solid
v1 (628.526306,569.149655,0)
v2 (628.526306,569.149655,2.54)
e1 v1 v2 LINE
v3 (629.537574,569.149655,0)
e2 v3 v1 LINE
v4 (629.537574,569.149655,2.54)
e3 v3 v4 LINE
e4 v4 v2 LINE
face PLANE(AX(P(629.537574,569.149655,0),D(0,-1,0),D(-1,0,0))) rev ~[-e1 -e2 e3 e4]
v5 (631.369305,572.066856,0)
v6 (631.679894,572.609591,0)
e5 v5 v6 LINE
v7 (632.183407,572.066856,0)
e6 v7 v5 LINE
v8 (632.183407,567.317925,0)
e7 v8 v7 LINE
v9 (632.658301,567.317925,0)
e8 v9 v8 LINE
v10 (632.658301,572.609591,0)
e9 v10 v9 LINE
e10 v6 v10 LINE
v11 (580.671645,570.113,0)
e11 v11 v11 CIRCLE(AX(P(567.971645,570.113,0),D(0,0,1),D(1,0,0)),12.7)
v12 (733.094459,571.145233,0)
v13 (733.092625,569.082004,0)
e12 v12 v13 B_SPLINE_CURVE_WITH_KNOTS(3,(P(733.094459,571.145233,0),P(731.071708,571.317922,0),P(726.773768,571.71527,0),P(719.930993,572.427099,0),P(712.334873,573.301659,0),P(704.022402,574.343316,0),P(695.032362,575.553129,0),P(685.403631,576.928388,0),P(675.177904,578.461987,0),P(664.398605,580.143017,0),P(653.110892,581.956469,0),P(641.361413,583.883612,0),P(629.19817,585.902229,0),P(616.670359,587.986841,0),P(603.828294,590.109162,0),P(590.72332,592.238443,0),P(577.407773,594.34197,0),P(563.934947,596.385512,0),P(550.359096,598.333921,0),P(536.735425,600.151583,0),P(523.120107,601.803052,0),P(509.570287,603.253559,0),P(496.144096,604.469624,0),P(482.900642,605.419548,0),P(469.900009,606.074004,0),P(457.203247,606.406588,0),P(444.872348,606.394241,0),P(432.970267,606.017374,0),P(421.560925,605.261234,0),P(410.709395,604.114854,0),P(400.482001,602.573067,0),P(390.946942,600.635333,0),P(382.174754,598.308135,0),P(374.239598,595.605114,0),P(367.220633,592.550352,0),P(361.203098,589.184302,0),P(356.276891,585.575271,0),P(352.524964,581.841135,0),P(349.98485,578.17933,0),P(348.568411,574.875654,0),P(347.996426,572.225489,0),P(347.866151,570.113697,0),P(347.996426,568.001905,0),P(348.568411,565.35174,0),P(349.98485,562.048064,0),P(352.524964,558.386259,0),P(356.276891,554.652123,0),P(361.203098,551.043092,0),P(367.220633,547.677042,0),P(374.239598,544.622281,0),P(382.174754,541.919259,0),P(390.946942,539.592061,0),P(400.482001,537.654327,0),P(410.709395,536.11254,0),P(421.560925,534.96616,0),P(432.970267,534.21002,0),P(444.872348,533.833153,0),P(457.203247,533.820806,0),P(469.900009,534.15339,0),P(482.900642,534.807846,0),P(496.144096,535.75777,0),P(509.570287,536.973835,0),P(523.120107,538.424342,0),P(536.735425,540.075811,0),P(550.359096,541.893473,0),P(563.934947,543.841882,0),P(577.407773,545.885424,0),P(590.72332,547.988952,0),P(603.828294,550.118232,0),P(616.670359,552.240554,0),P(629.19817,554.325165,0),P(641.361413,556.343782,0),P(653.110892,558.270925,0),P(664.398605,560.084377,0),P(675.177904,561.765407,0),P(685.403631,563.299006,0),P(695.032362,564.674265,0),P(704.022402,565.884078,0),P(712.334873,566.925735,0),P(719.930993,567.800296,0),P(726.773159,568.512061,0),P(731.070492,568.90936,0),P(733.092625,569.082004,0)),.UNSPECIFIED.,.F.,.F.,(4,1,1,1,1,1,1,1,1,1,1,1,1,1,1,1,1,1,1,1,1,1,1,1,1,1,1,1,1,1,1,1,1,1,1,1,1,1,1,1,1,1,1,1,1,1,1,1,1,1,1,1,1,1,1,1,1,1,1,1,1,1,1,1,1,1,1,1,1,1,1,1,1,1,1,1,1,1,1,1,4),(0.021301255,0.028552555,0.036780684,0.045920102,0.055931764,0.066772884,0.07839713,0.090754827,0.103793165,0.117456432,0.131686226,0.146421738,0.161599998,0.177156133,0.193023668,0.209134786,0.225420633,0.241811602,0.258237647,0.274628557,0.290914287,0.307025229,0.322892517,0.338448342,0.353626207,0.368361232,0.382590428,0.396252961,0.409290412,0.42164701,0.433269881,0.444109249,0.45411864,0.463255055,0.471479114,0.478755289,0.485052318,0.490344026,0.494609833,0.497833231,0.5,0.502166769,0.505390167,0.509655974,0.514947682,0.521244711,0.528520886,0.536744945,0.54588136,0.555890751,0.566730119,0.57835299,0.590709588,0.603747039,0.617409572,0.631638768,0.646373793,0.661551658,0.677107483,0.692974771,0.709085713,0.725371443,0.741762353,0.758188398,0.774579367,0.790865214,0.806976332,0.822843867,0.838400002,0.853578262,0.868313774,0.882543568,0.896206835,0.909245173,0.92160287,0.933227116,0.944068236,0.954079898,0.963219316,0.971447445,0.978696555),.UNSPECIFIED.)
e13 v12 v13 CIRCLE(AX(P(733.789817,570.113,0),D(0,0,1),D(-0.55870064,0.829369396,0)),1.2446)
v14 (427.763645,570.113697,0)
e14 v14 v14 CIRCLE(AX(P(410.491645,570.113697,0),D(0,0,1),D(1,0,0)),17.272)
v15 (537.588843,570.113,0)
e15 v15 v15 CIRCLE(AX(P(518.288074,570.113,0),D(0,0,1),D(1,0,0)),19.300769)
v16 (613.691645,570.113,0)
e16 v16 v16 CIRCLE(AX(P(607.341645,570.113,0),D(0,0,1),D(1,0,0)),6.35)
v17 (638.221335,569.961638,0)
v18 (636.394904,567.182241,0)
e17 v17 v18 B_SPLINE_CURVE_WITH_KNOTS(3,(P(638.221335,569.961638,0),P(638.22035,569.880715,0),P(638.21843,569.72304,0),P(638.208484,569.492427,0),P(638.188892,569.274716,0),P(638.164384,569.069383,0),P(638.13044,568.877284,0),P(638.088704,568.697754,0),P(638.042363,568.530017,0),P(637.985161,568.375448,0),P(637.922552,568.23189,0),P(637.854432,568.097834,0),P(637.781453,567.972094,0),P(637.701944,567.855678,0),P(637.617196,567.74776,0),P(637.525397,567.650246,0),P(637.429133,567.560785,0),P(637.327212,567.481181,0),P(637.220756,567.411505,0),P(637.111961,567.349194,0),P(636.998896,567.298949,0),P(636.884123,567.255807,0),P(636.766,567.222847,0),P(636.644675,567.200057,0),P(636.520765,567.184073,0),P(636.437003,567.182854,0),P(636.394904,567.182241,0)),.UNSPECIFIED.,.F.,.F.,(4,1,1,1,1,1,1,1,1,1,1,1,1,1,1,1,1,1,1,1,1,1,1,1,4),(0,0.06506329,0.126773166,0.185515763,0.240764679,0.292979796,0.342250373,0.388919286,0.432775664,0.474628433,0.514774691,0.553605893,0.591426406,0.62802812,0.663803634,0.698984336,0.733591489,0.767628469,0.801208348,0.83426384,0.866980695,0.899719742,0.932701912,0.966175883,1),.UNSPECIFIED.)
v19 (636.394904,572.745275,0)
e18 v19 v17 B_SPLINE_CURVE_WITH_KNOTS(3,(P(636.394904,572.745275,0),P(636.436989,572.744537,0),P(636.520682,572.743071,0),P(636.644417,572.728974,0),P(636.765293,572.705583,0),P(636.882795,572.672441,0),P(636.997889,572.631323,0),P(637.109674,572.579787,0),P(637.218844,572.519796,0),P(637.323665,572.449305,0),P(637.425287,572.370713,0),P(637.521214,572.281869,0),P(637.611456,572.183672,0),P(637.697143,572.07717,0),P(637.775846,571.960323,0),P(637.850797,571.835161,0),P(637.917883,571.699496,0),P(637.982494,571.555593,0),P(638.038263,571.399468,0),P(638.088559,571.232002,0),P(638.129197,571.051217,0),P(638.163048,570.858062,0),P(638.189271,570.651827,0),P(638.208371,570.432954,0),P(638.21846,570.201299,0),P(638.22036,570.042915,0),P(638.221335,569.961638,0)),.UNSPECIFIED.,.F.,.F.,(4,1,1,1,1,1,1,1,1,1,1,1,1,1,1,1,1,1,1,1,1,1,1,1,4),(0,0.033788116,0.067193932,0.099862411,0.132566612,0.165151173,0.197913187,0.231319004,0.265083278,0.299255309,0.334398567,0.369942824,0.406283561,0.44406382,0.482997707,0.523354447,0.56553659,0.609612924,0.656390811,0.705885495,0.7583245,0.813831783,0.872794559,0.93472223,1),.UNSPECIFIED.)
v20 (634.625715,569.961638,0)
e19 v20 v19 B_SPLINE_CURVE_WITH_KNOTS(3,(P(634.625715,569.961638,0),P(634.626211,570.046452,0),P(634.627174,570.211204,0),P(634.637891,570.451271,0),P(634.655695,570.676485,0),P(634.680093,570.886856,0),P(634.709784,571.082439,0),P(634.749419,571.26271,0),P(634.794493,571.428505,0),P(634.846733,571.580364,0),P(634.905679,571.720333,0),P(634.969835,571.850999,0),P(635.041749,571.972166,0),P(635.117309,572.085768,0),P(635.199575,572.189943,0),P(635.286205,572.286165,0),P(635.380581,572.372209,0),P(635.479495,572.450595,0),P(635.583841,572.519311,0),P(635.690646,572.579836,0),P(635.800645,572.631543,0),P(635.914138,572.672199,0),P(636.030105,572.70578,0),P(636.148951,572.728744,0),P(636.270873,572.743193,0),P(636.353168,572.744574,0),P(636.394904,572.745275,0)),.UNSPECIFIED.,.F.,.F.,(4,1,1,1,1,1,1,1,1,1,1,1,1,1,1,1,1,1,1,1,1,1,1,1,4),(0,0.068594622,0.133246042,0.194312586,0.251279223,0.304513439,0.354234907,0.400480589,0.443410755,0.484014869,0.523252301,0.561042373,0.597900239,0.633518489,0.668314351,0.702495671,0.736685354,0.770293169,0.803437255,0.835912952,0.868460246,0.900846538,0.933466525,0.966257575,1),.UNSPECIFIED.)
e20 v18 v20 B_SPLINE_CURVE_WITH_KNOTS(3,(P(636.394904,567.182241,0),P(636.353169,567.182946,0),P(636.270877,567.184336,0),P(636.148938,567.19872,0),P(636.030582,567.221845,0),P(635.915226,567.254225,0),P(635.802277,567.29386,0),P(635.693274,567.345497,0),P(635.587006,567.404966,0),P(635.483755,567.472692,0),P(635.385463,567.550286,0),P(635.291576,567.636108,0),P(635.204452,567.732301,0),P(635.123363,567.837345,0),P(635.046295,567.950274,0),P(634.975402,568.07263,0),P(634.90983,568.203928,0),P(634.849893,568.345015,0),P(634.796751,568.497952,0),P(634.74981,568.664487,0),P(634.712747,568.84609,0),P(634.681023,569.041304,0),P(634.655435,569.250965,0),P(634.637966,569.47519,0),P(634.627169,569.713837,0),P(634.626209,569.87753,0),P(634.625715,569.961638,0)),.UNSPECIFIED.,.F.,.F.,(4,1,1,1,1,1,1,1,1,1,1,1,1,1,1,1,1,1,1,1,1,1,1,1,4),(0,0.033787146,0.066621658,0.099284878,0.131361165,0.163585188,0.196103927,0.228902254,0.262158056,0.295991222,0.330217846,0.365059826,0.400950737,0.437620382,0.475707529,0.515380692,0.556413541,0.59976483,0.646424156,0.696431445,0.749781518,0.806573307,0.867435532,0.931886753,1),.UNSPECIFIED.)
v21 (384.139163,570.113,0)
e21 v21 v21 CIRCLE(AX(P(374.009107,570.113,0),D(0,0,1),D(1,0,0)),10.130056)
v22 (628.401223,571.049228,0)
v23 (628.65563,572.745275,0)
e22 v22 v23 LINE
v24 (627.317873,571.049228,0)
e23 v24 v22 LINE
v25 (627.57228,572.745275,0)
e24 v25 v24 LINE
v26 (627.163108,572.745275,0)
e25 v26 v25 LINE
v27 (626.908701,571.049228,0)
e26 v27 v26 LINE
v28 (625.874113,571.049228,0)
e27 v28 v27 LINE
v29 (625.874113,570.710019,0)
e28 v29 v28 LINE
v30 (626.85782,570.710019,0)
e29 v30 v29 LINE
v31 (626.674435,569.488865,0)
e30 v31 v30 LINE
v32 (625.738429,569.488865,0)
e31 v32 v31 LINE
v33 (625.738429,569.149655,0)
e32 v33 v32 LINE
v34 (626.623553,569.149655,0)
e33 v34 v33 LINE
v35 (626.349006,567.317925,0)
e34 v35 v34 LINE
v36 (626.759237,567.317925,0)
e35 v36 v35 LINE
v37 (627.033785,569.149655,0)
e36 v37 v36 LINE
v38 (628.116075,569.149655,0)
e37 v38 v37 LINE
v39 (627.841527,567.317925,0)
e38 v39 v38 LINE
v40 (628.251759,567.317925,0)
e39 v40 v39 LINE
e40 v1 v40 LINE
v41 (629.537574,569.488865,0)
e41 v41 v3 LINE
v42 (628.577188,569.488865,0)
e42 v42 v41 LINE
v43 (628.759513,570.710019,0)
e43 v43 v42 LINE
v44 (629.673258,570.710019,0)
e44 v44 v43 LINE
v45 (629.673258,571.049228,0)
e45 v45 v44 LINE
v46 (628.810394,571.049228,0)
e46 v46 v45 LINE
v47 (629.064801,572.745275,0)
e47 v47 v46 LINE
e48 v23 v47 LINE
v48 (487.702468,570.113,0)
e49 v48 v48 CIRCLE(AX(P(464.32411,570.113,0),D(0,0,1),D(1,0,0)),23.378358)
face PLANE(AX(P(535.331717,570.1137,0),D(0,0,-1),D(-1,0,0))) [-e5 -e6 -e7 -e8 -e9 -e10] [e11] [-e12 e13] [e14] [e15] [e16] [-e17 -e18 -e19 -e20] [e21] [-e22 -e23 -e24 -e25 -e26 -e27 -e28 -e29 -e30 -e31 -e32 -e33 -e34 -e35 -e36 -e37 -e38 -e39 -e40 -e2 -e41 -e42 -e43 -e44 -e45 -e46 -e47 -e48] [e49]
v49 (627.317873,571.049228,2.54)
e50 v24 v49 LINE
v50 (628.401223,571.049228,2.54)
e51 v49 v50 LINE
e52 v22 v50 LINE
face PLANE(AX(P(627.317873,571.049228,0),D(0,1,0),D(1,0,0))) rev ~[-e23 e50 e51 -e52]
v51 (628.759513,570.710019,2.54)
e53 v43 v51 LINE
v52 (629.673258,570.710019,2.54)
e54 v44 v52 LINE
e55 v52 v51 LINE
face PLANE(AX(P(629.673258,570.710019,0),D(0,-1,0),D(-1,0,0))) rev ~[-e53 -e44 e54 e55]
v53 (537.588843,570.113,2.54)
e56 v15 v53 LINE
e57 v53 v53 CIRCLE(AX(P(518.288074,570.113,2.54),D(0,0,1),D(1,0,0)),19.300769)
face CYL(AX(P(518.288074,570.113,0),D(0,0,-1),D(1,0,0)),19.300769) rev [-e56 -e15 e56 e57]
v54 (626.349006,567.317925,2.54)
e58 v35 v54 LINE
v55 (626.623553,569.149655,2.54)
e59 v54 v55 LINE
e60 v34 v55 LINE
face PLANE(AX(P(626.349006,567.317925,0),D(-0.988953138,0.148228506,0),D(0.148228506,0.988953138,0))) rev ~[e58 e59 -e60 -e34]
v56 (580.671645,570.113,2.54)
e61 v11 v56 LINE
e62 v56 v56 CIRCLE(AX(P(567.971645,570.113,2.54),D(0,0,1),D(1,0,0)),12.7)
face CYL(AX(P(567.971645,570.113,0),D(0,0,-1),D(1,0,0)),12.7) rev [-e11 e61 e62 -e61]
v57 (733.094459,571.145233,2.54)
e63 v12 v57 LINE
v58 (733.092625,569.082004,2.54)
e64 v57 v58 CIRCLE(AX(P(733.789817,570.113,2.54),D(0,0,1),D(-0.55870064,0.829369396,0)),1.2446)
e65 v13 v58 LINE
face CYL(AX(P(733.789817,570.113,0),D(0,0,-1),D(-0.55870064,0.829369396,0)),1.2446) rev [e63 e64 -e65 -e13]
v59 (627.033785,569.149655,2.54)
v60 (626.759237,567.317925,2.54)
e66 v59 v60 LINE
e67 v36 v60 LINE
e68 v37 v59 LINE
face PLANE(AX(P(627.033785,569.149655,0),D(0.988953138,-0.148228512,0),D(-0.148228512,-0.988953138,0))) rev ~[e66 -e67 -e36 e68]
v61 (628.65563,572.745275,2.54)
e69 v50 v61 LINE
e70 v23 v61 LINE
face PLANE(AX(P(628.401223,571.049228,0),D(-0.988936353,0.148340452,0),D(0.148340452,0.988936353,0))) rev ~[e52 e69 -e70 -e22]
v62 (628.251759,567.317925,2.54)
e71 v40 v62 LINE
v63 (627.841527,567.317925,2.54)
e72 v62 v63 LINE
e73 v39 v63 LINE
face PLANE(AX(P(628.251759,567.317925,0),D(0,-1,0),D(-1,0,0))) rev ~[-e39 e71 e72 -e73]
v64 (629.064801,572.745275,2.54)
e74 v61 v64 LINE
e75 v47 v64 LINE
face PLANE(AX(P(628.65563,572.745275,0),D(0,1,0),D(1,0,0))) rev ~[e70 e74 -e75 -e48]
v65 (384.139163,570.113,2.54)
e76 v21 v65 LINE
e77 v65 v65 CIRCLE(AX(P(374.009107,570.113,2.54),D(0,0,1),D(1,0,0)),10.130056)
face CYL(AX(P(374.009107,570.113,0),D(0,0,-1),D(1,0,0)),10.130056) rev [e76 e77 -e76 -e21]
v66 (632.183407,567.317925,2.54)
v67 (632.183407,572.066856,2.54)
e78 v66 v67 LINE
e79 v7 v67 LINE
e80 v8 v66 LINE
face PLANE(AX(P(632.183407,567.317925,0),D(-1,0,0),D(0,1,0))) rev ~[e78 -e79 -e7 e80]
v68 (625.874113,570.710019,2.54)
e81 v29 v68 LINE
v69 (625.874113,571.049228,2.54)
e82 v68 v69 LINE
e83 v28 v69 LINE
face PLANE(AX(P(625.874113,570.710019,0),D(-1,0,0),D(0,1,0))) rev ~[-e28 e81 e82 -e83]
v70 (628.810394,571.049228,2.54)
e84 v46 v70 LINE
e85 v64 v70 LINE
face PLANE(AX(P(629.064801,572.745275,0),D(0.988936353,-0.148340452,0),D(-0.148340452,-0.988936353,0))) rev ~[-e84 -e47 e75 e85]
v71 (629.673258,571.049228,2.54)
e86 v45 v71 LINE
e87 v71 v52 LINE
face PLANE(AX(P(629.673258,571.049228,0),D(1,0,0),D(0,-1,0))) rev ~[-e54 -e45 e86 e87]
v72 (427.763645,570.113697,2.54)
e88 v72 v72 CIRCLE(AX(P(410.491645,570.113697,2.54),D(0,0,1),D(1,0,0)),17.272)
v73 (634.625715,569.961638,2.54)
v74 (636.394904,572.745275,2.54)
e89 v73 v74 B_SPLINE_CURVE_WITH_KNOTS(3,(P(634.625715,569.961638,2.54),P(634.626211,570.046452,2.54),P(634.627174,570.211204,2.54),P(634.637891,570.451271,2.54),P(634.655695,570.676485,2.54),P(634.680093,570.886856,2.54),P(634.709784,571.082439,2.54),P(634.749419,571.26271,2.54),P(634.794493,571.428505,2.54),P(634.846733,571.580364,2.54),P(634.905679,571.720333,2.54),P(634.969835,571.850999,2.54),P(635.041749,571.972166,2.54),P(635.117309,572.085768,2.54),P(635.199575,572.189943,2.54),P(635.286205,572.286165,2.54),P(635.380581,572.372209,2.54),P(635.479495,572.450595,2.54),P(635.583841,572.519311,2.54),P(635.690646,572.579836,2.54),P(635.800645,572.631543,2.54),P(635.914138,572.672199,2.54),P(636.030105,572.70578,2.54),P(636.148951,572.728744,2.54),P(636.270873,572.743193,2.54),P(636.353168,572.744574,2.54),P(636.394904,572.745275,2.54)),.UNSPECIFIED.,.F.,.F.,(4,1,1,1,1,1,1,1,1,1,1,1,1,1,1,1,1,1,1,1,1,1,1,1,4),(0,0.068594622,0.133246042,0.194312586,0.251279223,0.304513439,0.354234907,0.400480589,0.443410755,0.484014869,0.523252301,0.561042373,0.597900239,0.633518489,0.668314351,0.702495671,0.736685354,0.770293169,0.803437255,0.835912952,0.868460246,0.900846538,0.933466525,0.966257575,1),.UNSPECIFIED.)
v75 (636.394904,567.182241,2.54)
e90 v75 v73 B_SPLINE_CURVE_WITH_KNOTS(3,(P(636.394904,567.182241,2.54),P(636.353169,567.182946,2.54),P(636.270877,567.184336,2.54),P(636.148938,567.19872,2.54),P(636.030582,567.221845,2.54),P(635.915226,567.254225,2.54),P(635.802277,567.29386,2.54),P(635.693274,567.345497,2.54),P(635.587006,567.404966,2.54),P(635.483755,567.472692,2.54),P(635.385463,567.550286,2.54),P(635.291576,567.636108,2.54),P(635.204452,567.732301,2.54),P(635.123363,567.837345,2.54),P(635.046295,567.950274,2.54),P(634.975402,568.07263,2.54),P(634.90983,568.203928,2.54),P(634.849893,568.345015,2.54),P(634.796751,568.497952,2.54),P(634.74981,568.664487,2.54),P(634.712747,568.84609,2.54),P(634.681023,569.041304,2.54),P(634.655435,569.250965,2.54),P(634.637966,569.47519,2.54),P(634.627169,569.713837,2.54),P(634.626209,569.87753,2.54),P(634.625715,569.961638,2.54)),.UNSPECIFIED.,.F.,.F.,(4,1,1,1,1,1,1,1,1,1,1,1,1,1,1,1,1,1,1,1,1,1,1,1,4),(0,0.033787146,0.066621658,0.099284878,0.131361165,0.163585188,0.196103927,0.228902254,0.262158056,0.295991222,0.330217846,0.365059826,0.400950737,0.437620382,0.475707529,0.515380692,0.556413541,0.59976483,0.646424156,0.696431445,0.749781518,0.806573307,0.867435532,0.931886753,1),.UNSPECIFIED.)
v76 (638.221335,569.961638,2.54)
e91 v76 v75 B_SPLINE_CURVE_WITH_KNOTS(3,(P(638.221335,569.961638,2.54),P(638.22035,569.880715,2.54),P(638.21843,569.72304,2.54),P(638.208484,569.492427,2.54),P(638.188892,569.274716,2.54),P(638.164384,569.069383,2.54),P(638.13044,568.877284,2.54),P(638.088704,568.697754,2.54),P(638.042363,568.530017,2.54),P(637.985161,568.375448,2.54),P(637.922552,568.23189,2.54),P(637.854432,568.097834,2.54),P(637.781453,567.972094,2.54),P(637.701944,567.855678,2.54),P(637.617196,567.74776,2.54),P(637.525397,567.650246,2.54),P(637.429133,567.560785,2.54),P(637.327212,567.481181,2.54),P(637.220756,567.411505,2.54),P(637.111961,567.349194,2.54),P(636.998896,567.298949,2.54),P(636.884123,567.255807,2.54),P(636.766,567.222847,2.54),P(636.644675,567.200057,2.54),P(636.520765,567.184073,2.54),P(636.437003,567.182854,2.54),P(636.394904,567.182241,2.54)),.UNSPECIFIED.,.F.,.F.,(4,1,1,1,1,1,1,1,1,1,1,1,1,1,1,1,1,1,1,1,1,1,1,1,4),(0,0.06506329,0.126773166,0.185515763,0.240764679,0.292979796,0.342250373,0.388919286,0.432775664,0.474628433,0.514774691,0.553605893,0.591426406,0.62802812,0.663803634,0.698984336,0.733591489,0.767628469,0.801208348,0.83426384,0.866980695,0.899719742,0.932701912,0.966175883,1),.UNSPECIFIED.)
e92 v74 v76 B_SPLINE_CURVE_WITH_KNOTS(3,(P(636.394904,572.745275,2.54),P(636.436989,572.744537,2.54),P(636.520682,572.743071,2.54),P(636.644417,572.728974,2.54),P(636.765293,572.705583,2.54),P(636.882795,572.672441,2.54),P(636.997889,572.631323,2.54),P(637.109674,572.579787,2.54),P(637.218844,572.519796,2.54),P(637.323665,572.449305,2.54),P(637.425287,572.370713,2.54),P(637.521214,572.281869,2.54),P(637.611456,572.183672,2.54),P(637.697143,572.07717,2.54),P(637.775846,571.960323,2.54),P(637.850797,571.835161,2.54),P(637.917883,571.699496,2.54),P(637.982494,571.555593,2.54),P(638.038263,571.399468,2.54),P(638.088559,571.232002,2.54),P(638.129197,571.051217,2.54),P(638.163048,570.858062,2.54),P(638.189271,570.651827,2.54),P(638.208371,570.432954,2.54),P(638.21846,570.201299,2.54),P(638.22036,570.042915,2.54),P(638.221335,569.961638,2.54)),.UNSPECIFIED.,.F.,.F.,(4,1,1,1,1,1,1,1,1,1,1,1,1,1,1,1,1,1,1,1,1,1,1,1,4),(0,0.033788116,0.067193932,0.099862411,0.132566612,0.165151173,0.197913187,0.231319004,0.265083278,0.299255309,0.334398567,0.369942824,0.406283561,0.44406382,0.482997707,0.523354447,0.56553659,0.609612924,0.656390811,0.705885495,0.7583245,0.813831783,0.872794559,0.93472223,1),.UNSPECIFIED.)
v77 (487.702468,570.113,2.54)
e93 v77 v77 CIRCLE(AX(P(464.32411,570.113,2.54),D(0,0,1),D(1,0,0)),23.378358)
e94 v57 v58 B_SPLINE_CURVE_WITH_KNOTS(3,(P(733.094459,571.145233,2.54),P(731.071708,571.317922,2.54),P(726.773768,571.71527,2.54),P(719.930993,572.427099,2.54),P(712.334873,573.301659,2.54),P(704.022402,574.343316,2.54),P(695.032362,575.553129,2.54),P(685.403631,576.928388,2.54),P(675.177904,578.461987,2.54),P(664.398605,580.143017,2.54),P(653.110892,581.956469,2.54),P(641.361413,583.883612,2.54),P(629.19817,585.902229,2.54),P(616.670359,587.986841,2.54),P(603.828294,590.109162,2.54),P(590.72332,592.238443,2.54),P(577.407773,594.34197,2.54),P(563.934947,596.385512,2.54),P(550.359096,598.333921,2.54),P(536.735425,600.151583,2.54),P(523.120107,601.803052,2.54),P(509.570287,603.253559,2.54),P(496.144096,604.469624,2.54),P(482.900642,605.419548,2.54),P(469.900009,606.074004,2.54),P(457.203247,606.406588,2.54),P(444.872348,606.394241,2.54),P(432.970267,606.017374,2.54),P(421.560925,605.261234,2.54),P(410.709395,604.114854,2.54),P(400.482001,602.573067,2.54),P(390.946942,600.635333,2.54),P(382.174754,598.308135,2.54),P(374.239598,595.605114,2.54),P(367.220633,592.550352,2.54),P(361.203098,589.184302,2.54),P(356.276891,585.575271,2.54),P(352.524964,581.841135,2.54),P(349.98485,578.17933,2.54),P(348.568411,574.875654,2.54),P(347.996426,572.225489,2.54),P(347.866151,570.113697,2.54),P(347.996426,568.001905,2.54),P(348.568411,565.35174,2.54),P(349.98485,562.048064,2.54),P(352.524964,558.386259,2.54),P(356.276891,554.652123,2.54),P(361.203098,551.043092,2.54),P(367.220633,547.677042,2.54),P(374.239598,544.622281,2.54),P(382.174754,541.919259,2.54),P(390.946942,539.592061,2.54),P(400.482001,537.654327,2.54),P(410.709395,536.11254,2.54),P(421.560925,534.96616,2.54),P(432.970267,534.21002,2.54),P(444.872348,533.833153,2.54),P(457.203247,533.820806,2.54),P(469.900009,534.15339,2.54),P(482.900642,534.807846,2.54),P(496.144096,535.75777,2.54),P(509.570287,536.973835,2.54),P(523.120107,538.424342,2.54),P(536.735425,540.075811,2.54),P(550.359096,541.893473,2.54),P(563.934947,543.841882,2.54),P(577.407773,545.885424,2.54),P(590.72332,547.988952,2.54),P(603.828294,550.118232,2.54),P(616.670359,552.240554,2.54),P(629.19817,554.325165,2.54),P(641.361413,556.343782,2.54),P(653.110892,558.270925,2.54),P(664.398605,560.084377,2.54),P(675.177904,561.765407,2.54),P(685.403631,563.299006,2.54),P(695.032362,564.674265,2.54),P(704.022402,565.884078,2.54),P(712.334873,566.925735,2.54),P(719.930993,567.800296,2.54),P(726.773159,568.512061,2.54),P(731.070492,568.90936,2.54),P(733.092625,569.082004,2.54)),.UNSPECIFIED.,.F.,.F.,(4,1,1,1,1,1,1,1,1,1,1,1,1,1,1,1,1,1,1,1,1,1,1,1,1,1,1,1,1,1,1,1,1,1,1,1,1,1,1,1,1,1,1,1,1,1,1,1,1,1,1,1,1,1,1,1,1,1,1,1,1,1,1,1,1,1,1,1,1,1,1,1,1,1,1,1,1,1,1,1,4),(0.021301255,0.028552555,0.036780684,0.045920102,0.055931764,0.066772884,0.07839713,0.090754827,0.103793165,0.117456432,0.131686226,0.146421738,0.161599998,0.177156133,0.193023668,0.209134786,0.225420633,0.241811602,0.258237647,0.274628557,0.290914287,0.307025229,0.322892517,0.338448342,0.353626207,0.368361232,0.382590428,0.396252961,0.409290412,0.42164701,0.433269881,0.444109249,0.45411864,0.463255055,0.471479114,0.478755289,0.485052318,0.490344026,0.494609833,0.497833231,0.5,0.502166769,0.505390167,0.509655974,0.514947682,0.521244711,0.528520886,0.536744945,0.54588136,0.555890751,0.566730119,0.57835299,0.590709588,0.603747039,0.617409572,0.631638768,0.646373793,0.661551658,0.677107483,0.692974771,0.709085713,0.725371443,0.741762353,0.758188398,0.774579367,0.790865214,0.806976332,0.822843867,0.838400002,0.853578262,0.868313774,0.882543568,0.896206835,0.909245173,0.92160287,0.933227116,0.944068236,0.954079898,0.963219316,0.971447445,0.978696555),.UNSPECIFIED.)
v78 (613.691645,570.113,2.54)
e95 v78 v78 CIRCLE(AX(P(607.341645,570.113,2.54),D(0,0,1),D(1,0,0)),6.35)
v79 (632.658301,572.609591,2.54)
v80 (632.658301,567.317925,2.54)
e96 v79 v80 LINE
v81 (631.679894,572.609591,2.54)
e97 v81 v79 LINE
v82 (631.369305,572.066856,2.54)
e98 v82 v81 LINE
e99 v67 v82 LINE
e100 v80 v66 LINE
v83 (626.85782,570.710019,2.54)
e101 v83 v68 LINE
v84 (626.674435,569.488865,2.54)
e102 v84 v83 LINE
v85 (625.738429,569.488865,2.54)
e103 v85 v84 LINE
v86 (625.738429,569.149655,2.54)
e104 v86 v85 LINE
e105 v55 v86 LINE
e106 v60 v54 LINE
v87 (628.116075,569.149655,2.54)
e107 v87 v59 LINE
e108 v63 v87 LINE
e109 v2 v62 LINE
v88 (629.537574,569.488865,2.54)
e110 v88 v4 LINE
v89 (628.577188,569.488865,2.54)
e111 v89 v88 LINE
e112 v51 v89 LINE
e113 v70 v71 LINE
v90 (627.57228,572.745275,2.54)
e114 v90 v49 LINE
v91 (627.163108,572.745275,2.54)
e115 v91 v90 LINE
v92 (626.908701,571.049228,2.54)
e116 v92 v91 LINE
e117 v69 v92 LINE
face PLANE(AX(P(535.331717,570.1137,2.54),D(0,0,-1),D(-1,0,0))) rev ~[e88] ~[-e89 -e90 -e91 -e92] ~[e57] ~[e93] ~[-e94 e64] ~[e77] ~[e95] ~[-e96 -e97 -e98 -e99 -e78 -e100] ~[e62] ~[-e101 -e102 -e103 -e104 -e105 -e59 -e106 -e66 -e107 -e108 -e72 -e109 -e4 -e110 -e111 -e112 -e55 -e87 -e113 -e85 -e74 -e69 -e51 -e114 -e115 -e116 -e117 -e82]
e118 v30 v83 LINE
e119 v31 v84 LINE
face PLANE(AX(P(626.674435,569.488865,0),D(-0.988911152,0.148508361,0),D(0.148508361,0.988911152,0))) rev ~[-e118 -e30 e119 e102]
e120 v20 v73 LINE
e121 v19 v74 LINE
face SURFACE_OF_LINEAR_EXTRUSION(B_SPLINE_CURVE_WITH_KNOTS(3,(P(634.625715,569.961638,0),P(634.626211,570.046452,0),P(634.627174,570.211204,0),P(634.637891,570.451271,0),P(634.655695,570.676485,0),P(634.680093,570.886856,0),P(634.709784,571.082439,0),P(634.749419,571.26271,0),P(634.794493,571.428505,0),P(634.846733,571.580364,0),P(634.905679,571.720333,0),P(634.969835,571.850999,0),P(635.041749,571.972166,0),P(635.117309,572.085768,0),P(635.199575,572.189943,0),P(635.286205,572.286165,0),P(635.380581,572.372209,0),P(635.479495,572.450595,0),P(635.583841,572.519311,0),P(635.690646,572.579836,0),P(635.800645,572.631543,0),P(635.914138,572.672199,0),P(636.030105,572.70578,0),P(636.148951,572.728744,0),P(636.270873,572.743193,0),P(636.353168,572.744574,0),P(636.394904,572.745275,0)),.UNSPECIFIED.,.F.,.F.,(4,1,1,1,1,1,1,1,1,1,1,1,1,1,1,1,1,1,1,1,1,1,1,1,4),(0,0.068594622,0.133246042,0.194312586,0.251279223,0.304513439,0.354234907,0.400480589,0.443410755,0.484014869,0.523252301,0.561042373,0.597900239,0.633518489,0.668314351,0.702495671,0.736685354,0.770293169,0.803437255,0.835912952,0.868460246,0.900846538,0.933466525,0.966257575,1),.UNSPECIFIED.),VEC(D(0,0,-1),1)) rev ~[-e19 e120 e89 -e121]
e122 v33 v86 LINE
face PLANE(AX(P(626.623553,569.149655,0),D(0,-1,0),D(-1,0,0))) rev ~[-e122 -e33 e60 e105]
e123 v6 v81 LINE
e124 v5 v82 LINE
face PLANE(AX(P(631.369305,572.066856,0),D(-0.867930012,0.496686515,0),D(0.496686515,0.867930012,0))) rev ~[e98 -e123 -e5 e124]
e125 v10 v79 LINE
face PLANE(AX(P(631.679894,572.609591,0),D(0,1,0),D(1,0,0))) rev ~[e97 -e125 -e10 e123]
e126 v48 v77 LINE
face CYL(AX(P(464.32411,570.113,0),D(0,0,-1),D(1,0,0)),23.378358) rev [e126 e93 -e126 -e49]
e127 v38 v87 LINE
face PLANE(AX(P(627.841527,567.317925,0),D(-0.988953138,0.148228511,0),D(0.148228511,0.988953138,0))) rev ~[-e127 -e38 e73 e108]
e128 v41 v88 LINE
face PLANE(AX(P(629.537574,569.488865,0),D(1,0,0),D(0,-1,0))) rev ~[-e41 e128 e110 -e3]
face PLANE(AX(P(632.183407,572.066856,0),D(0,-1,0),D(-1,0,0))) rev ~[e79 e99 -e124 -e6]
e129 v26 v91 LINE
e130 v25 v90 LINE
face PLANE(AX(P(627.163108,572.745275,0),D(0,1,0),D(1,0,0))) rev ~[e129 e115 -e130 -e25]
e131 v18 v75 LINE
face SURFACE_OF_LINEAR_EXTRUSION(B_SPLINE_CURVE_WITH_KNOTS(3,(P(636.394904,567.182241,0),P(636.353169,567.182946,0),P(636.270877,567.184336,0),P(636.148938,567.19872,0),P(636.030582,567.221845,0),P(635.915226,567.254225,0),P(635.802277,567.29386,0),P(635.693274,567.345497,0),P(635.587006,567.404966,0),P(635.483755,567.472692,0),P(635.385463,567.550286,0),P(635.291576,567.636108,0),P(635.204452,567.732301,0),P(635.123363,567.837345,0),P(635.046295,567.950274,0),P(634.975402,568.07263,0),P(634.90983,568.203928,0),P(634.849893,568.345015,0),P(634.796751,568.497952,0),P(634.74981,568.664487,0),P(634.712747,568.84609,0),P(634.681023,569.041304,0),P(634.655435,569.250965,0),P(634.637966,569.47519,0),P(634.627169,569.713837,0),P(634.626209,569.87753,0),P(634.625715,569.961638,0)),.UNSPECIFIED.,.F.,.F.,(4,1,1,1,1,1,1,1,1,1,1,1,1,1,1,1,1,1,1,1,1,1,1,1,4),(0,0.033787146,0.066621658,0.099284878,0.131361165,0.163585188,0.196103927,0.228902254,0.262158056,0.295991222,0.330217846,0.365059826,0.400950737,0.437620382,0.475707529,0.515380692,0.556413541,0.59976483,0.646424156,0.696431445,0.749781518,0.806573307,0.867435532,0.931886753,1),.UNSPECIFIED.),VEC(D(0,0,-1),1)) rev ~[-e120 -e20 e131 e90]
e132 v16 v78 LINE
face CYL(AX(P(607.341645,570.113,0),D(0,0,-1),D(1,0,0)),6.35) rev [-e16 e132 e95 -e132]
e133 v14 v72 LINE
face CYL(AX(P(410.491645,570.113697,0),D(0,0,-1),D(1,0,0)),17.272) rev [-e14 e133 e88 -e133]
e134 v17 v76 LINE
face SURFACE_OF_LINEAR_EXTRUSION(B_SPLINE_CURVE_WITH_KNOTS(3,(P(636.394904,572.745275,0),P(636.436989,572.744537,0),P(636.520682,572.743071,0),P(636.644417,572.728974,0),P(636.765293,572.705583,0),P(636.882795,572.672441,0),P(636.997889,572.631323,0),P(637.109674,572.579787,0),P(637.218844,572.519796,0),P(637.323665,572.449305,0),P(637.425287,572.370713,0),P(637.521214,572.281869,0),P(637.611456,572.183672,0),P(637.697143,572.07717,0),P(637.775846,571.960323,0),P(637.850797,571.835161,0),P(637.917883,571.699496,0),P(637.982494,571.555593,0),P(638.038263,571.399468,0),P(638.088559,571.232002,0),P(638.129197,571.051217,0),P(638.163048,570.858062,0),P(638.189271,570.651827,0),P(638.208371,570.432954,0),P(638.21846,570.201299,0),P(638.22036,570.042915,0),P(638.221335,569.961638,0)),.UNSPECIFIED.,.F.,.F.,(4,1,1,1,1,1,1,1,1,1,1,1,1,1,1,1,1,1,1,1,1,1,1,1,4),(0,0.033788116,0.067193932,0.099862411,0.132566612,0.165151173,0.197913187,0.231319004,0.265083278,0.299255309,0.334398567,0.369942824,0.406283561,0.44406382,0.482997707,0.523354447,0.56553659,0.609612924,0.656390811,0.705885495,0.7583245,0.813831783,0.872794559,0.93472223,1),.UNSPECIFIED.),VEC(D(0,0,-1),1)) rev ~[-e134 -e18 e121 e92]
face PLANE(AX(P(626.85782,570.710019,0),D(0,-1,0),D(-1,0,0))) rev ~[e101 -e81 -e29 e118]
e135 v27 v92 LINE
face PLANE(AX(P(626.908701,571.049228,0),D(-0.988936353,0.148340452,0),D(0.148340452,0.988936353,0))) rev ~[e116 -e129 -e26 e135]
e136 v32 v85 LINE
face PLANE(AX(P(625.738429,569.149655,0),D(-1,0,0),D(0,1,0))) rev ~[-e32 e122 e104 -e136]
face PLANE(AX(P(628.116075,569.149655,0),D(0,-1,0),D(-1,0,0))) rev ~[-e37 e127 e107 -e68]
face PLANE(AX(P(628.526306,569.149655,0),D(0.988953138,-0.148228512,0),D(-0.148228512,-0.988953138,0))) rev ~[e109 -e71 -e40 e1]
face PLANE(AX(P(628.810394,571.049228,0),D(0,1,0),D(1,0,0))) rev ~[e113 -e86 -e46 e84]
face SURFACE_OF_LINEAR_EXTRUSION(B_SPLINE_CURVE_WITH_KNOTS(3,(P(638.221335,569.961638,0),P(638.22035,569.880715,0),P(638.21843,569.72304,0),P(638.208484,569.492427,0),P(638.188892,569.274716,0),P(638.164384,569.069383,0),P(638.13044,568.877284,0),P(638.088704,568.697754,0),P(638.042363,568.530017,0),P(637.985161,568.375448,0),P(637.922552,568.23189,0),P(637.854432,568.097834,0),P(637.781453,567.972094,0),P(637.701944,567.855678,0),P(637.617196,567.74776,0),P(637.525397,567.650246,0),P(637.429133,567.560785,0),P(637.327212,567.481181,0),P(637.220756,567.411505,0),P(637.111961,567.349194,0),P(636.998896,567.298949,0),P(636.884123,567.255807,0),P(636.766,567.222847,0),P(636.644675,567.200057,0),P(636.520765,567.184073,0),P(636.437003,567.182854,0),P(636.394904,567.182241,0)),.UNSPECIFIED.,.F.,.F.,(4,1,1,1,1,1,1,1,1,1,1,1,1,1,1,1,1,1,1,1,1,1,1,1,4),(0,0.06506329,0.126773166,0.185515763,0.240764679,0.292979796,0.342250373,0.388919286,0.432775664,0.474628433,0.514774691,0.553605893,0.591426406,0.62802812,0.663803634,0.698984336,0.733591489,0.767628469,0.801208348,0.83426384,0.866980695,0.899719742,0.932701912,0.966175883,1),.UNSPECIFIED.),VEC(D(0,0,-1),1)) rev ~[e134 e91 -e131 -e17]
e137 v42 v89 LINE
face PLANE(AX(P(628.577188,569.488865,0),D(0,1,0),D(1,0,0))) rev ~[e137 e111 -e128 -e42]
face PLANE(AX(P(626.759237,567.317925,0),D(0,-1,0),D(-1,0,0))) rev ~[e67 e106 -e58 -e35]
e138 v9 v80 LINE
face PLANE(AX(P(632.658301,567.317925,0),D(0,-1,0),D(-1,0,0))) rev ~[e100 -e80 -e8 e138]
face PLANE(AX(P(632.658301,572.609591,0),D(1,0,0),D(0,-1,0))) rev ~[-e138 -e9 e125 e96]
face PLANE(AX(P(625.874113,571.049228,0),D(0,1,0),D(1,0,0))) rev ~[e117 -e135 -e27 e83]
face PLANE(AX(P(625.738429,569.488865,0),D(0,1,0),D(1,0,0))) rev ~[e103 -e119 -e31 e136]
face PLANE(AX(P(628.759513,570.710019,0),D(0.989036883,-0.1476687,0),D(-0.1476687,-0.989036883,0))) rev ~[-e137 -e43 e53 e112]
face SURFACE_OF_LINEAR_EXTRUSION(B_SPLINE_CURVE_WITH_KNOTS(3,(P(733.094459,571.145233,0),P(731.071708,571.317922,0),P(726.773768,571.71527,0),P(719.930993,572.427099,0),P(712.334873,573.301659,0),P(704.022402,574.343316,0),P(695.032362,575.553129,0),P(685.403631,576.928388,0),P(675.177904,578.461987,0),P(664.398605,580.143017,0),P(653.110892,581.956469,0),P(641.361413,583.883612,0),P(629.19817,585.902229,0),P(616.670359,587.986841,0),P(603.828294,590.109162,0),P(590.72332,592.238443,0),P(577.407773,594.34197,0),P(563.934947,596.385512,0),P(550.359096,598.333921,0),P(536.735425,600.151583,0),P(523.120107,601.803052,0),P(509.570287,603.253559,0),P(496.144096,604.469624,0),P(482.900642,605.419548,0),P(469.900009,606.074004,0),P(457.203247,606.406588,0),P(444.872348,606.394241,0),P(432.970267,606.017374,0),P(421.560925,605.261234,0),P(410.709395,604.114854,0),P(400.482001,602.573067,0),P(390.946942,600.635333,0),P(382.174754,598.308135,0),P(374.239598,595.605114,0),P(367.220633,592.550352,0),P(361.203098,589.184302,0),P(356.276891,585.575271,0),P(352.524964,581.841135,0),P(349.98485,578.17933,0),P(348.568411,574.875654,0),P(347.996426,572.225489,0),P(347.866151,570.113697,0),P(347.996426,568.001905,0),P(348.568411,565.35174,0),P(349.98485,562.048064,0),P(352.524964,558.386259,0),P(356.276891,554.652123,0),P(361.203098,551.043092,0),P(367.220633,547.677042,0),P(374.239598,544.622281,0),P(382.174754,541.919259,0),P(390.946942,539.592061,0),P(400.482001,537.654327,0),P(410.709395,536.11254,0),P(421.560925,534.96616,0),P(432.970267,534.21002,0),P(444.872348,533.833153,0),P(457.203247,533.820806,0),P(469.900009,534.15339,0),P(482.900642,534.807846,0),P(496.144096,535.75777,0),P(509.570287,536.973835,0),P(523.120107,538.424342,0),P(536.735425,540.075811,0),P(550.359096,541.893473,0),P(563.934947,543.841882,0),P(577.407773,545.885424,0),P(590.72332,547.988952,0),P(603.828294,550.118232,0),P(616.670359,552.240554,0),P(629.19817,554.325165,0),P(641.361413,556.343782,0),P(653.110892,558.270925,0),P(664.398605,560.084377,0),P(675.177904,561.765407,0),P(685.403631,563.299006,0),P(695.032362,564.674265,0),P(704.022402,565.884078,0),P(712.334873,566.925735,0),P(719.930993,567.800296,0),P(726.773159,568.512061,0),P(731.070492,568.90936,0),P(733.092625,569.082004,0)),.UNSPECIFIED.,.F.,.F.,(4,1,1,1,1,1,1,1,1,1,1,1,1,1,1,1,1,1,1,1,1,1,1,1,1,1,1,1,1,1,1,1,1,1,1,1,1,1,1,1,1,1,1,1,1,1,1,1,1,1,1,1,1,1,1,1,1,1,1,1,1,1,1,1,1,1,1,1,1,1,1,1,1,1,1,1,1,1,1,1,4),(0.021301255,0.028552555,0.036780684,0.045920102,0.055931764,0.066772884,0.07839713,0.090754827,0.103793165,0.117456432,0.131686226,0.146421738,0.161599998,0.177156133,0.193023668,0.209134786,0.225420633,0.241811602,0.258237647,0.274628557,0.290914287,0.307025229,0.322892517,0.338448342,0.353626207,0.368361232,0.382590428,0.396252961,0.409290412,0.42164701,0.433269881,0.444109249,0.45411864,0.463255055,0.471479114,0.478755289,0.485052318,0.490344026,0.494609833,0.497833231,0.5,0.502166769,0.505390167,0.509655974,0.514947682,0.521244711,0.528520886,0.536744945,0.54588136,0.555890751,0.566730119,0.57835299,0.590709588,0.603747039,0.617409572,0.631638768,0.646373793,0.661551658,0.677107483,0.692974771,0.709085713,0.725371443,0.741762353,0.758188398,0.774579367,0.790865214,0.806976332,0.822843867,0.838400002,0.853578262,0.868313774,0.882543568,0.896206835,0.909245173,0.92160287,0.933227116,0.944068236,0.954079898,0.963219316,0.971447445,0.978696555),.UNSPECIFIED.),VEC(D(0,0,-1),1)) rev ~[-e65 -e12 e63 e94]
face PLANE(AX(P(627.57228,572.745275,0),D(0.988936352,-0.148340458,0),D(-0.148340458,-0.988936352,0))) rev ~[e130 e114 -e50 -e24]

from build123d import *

# Parameters (mm, degrees)
SKETCH2_R           = 10.130056053
SKETCH2_R_2         = 6.35
SKETCH2_R_3         = 12.7
SKETCH2_R_4         = 19.300769349
SKETCH2_R_5         = 23.378357794
SKETCH2_R_6         = 17.272
BOSS_EXTRUDE1_DEPTH = 2.54


with BuildPart() as part:
    # Sketch2 → Boss-Extrude1 (new body)
    with BuildSketch(Plane.XY):
        with BuildLine():
            ThreePointArc((733.094458589, 571.145233343), (732.545217897, 570.114105972), (733.092625489, 569.082004271))
            add(Edge.make_bspline(
                [(733.094458589, 571.145233343), (731.071708037, 571.317921944), (726.773768323, 571.715269774), (719.930993216, 572.427098506), (712.334872672, 573.301658873), (704.022402008, 574.343315633), (695.032362487, 575.553129378), (685.403631288, 576.928387748), (675.177904294, 578.461986944), (664.398604914, 580.143017226), (653.110892108, 581.956469163), (641.361413459, 583.883612287), (629.198169585, 585.902229126), (616.670358597, 587.98684052), (603.828293671, 590.10916185), (590.723320288, 592.238442601), (577.407772952, 594.341970434), (563.934946828, 596.385512076), (550.35909561, 598.333920975), (536.735425172, 600.151583235), (523.120106966, 601.803052389), (509.570287351, 603.253558862), (496.144096325, 604.469623955), (482.900641975, 605.419548215), (469.900009328, 606.074004196), (457.203247278, 606.406588245), (444.872347821, 606.39424081), (432.970266907, 606.017374444), (421.560925424, 605.261233674), (410.709394946, 604.114853717), (400.482000776, 602.573067108), (390.946941922, 600.635333008), (382.174754121, 598.308135436), (374.239597628, 595.605113532), (367.220633365, 592.550351675), (361.203098109, 589.184301712), (356.276891114, 585.575270729), (352.524964086, 581.841134841), (349.984849518, 578.179330061), (348.568410846, 574.875654104), (347.996426137, 572.225488819), (347.866151466, 570.113697054), (347.996426137, 568.001905288), (348.568410846, 565.351740003), (349.984849518, 562.048064047), (352.524964086, 558.386259267), (356.276891114, 554.652123378), (361.203098109, 551.043092395), (367.220633365, 547.677042433), (374.239597628, 544.622280575), (382.174754121, 541.919258671), (390.946941922, 539.5920611), (400.482000776, 537.654326999), (410.709394946, 536.11254039), (421.560925424, 534.966160433), (432.970266907, 534.210019663), (444.872347821, 533.833153298), (457.203247278, 533.820805862), (469.900009328, 534.153389912), (482.900641975, 534.807845892), (496.144096325, 535.757770153), (509.570287351, 536.973835246), (523.120106966, 538.424341719), (536.735425172, 540.075810873), (550.35909561, 541.893473132), (563.934946828, 543.841882032), (577.407772952, 545.885423673), (590.723320288, 547.988951506), (603.828293671, 550.118232257), (616.670358597, 552.240553587), (629.198169585, 554.325164982), (641.361413459, 556.343781821), (653.110892108, 558.270924944), (664.398604914, 560.084376881), (675.177904294, 561.765407163), (685.403631288, 563.299006359), (695.032362487, 564.674264729), (704.022402008, 565.884078475), (712.334872672, 566.925735235), (719.930993216, 567.800295602), (726.773159483, 568.512060998), (731.070491643, 568.909359706), (733.092625489, 569.082004271)],
                knots=[0.021301255, 0.021301255, 0.021301255, 0.021301255, 0.028552555, 0.036780684, 0.045920102, 0.055931764, 0.066772884, 0.07839713, 0.090754827, 0.103793165, 0.117456432, 0.131686226, 0.146421738, 0.161599998, 0.177156133, 0.193023668, 0.209134786, 0.225420633, 0.241811602, 0.258237647, 0.274628557, 0.290914287, 0.307025229, 0.322892517, 0.338448342, 0.353626207, 0.368361232, 0.382590428, 0.396252961, 0.409290412, 0.42164701, 0.433269881, 0.444109249, 0.45411864, 0.463255055, 0.471479114, 0.478755289, 0.485052318, 0.490344026, 0.494609833, 0.497833231, 0.5, 0.502166769, 0.505390167, 0.509655974, 0.514947682, 0.521244711, 0.528520886, 0.536744945, 0.54588136, 0.555890751, 0.566730119, 0.57835299, 0.590709588, 0.603747039, 0.617409572, 0.631638768, 0.646373793, 0.661551658, 0.677107483, 0.692974771, 0.709085713, 0.725371443, 0.741762353, 0.758188398, 0.774579367, 0.790865214, 0.806976332, 0.822843867, 0.838400002, 0.853578262, 0.868313774, 0.882543568, 0.896206835, 0.909245173, 0.92160287, 0.933227116, 0.944068236, 0.954079898, 0.963219316, 0.971447445, 0.978696555, 0.978696555, 0.978696555, 0.978696555], degree=3))
        make_face()
        with Locations((374.009106824, 570.113000193)):
            Circle(SKETCH2_R, mode=Mode.SUBTRACT)
        with Locations((607.341644578, 570.113000193)):
            Circle(SKETCH2_R_2, mode=Mode.SUBTRACT)
        with Locations((567.971644578, 570.113000193)):
            Circle(SKETCH2_R_3, mode=Mode.SUBTRACT)
        with Locations((518.28807379, 570.113000193)):
            Circle(SKETCH2_R_4, mode=Mode.SUBTRACT)
        with Locations((464.324110405, 570.113000193)):
            Circle(SKETCH2_R_5, mode=Mode.SUBTRACT)
        with Locations((410.491644578, 570.113697058)):
            Circle(SKETCH2_R_6, mode=Mode.SUBTRACT)
        Polygon((632.183407482, 567.317924585), (632.183407482, 572.066856209), (631.36930492, 572.066856209), (631.679893529, 572.609591248), (632.658300645, 572.609591248), (632.658300645, 567.317924585), align=None, mode=Mode.SUBTRACT)
        Polygon((629.673257918, 570.710018598), (628.759512588, 570.710018598), (628.577187537, 569.488864759), (629.537574156, 569.488864759), (629.537574156, 569.149655348), (628.526306125, 569.149655348), (628.25175851, 567.317924585), (627.841527144, 567.317924585), (628.116074758, 569.149655348), (627.033784762, 569.149655348), (626.759237147, 567.317924585), (626.349005781, 567.317924585), (626.623553385, 569.149655348), (625.738428856, 569.149655348), (625.738428856, 569.488864759), (626.674434797, 569.488864759), (626.857819881, 570.710018598), (625.874112618, 570.710018598), (625.874112618, 571.049227998), (626.908701293, 571.049227998), (627.163108343, 572.74527501), (627.572279687, 572.74527501), (627.317872626, 571.049227998), (628.401222657, 571.049227998), (628.655629707, 572.74527501), (629.06480105, 572.74527501), (628.810394, 571.049227998), (629.673257918, 571.049227998), align=None, mode=Mode.SUBTRACT)
        with BuildLine():
            add(Edge.make_bspline(
                [(638.221334837, 569.961637859), (638.220349703, 569.880714807), (638.21843021, 569.723039542), (638.208483832, 569.492427234), (638.188891616, 569.274715907), (638.164383657, 569.069383422), (638.13043994, 568.877284403), (638.088703557, 568.697754106), (638.042363188, 568.530017235), (637.985160583, 568.375447937), (637.922551533, 568.231889975), (637.854432367, 568.097833691), (637.781452987, 567.972094177), (637.701943813, 567.855677893), (637.617196391, 567.747760162), (637.525396877, 567.650245899), (637.429133016, 567.560785478), (637.327211864, 567.481181232), (637.220756304, 567.411505396), (637.111961033, 567.34919398), (636.998895679, 567.29894931), (636.884122525, 567.255807045), (636.765999876, 567.222846838), (636.644674976, 567.200056605), (636.520764952, 567.184072976), (636.437003062, 567.182853656), (636.394904215, 567.182240823)],
                knots=[0, 0, 0, 0, 0.06506329, 0.126773166, 0.185515763, 0.240764679, 0.292979796, 0.342250373, 0.388919286, 0.432775664, 0.474628433, 0.514774691, 0.553605893, 0.591426406, 0.62802812, 0.663803634, 0.698984336, 0.733591489, 0.767628469, 0.801208348, 0.83426384, 0.866980695, 0.899719742, 0.932701912, 0.966175883, 1, 1, 1, 1], degree=3))
            add(Edge.make_bspline(
                [(636.394904215, 567.182240823), (636.353169423, 567.182945908), (636.270876561, 567.184336198), (636.148937775, 567.198720054), (636.030582176, 567.221845399), (635.915225726, 567.254225264), (635.80227659, 567.2938596), (635.693273871, 567.345496717), (635.587005588, 567.404966083), (635.483755259, 567.472692494), (635.385463063, 567.550285991), (635.291575886, 567.63610819), (635.204452345, 567.732300728), (635.1233627, 567.837344731), (635.046294734, 567.9502738), (634.975402467, 568.072629792), (634.909829866, 568.203927549), (634.849892684, 568.345015342), (634.796751252, 568.497951959), (634.749810074, 568.664487027), (634.712747003, 568.846090429), (634.681022773, 569.041303591), (634.655434718, 569.250965367), (634.637965678, 569.475189579), (634.62716869, 569.713836502), (634.626208524, 569.877530089), (634.625715179, 569.961637859)],
                knots=[0, 0, 0, 0, 0.033787146, 0.066621658, 0.099284878, 0.131361165, 0.163585188, 0.196103927, 0.228902254, 0.262158056, 0.295991222, 0.330217846, 0.365059826, 0.400950737, 0.437620382, 0.475707529, 0.515380692, 0.556413541, 0.59976483, 0.646424156, 0.696431445, 0.749781518, 0.806573307, 0.867435532, 0.931886753, 1, 1, 1, 1], degree=3))
            add(Edge.make_bspline(
                [(634.625715179, 569.961637859), (634.626211111, 570.046451766), (634.627174467, 570.211204004), (634.637891484, 570.451271261), (634.65569468, 570.676485031), (634.680092851, 570.886856095), (634.709783607, 571.082438763), (634.749418926, 571.26271036), (634.794493044, 571.428505241), (634.846733051, 571.580364053), (634.905678875, 571.720332723), (634.969835436, 571.850999396), (635.041748875, 571.972166365), (635.117309208, 572.085767549), (635.199575078, 572.189943373), (635.286205392, 572.286165017), (635.380581324, 572.372208652), (635.479494682, 572.450595323), (635.583841003, 572.519310596), (635.690645986, 572.579836284), (635.800644777, 572.631543226), (635.914137697, 572.672199004), (636.030104659, 572.705779689), (636.148951058, 572.728743932), (636.27087312, 572.743193067), (636.353168265, 572.744574446), (636.394904215, 572.745275011)],
                knots=[0, 0, 0, 0, 0.068594622, 0.133246042, 0.194312586, 0.251279223, 0.304513439, 0.354234907, 0.400480589, 0.443410755, 0.484014869, 0.523252301, 0.561042373, 0.597900239, 0.633518489, 0.668314351, 0.702495671, 0.736685354, 0.770293169, 0.803437255, 0.835912952, 0.868460246, 0.900846538, 0.933466525, 0.966257575, 1, 1, 1, 1], degree=3))
            add(Edge.make_bspline(
                [(636.394904215, 572.745275011), (636.436988807, 572.744537481), (636.520681821, 572.743070766), (636.644416674, 572.728973853), (636.765292978, 572.705582988), (636.882795402, 572.672440562), (636.997889132, 572.631323289), (637.109673938, 572.579786815), (637.218844169, 572.519796146), (637.323664961, 572.449305284), (637.425287058, 572.370713033), (637.521214335, 572.281869474), (637.611455525, 572.183671684), (637.697143189, 572.077170295), (637.775846294, 571.960322607), (637.850796602, 571.835160917), (637.917882895, 571.699496396), (637.982493654, 571.555592593), (638.038263264, 571.399467776), (638.088558659, 571.232002007), (638.1291971, 571.051217224), (638.163047547, 570.858061949), (638.189271378, 570.651826825), (638.20837073, 570.432953943), (638.218459799, 570.201299305), (638.220359811, 570.042915414), (638.221334837, 569.961637859)],
                knots=[0, 0, 0, 0, 0.033788116, 0.067193932, 0.099862411, 0.132566612, 0.165151173, 0.197913187, 0.231319004, 0.265083278, 0.299255309, 0.334398567, 0.369942824, 0.406283561, 0.44406382, 0.482997707, 0.523354447, 0.56553659, 0.609612924, 0.656390811, 0.705885495, 0.7583245, 0.813831783, 0.872794559, 0.93472223, 1, 1, 1, 1], degree=3))
        make_face(mode=Mode.SUBTRACT)
    extrude(amount=BOSS_EXTRUDE1_DEPTH)


solid = part.part
